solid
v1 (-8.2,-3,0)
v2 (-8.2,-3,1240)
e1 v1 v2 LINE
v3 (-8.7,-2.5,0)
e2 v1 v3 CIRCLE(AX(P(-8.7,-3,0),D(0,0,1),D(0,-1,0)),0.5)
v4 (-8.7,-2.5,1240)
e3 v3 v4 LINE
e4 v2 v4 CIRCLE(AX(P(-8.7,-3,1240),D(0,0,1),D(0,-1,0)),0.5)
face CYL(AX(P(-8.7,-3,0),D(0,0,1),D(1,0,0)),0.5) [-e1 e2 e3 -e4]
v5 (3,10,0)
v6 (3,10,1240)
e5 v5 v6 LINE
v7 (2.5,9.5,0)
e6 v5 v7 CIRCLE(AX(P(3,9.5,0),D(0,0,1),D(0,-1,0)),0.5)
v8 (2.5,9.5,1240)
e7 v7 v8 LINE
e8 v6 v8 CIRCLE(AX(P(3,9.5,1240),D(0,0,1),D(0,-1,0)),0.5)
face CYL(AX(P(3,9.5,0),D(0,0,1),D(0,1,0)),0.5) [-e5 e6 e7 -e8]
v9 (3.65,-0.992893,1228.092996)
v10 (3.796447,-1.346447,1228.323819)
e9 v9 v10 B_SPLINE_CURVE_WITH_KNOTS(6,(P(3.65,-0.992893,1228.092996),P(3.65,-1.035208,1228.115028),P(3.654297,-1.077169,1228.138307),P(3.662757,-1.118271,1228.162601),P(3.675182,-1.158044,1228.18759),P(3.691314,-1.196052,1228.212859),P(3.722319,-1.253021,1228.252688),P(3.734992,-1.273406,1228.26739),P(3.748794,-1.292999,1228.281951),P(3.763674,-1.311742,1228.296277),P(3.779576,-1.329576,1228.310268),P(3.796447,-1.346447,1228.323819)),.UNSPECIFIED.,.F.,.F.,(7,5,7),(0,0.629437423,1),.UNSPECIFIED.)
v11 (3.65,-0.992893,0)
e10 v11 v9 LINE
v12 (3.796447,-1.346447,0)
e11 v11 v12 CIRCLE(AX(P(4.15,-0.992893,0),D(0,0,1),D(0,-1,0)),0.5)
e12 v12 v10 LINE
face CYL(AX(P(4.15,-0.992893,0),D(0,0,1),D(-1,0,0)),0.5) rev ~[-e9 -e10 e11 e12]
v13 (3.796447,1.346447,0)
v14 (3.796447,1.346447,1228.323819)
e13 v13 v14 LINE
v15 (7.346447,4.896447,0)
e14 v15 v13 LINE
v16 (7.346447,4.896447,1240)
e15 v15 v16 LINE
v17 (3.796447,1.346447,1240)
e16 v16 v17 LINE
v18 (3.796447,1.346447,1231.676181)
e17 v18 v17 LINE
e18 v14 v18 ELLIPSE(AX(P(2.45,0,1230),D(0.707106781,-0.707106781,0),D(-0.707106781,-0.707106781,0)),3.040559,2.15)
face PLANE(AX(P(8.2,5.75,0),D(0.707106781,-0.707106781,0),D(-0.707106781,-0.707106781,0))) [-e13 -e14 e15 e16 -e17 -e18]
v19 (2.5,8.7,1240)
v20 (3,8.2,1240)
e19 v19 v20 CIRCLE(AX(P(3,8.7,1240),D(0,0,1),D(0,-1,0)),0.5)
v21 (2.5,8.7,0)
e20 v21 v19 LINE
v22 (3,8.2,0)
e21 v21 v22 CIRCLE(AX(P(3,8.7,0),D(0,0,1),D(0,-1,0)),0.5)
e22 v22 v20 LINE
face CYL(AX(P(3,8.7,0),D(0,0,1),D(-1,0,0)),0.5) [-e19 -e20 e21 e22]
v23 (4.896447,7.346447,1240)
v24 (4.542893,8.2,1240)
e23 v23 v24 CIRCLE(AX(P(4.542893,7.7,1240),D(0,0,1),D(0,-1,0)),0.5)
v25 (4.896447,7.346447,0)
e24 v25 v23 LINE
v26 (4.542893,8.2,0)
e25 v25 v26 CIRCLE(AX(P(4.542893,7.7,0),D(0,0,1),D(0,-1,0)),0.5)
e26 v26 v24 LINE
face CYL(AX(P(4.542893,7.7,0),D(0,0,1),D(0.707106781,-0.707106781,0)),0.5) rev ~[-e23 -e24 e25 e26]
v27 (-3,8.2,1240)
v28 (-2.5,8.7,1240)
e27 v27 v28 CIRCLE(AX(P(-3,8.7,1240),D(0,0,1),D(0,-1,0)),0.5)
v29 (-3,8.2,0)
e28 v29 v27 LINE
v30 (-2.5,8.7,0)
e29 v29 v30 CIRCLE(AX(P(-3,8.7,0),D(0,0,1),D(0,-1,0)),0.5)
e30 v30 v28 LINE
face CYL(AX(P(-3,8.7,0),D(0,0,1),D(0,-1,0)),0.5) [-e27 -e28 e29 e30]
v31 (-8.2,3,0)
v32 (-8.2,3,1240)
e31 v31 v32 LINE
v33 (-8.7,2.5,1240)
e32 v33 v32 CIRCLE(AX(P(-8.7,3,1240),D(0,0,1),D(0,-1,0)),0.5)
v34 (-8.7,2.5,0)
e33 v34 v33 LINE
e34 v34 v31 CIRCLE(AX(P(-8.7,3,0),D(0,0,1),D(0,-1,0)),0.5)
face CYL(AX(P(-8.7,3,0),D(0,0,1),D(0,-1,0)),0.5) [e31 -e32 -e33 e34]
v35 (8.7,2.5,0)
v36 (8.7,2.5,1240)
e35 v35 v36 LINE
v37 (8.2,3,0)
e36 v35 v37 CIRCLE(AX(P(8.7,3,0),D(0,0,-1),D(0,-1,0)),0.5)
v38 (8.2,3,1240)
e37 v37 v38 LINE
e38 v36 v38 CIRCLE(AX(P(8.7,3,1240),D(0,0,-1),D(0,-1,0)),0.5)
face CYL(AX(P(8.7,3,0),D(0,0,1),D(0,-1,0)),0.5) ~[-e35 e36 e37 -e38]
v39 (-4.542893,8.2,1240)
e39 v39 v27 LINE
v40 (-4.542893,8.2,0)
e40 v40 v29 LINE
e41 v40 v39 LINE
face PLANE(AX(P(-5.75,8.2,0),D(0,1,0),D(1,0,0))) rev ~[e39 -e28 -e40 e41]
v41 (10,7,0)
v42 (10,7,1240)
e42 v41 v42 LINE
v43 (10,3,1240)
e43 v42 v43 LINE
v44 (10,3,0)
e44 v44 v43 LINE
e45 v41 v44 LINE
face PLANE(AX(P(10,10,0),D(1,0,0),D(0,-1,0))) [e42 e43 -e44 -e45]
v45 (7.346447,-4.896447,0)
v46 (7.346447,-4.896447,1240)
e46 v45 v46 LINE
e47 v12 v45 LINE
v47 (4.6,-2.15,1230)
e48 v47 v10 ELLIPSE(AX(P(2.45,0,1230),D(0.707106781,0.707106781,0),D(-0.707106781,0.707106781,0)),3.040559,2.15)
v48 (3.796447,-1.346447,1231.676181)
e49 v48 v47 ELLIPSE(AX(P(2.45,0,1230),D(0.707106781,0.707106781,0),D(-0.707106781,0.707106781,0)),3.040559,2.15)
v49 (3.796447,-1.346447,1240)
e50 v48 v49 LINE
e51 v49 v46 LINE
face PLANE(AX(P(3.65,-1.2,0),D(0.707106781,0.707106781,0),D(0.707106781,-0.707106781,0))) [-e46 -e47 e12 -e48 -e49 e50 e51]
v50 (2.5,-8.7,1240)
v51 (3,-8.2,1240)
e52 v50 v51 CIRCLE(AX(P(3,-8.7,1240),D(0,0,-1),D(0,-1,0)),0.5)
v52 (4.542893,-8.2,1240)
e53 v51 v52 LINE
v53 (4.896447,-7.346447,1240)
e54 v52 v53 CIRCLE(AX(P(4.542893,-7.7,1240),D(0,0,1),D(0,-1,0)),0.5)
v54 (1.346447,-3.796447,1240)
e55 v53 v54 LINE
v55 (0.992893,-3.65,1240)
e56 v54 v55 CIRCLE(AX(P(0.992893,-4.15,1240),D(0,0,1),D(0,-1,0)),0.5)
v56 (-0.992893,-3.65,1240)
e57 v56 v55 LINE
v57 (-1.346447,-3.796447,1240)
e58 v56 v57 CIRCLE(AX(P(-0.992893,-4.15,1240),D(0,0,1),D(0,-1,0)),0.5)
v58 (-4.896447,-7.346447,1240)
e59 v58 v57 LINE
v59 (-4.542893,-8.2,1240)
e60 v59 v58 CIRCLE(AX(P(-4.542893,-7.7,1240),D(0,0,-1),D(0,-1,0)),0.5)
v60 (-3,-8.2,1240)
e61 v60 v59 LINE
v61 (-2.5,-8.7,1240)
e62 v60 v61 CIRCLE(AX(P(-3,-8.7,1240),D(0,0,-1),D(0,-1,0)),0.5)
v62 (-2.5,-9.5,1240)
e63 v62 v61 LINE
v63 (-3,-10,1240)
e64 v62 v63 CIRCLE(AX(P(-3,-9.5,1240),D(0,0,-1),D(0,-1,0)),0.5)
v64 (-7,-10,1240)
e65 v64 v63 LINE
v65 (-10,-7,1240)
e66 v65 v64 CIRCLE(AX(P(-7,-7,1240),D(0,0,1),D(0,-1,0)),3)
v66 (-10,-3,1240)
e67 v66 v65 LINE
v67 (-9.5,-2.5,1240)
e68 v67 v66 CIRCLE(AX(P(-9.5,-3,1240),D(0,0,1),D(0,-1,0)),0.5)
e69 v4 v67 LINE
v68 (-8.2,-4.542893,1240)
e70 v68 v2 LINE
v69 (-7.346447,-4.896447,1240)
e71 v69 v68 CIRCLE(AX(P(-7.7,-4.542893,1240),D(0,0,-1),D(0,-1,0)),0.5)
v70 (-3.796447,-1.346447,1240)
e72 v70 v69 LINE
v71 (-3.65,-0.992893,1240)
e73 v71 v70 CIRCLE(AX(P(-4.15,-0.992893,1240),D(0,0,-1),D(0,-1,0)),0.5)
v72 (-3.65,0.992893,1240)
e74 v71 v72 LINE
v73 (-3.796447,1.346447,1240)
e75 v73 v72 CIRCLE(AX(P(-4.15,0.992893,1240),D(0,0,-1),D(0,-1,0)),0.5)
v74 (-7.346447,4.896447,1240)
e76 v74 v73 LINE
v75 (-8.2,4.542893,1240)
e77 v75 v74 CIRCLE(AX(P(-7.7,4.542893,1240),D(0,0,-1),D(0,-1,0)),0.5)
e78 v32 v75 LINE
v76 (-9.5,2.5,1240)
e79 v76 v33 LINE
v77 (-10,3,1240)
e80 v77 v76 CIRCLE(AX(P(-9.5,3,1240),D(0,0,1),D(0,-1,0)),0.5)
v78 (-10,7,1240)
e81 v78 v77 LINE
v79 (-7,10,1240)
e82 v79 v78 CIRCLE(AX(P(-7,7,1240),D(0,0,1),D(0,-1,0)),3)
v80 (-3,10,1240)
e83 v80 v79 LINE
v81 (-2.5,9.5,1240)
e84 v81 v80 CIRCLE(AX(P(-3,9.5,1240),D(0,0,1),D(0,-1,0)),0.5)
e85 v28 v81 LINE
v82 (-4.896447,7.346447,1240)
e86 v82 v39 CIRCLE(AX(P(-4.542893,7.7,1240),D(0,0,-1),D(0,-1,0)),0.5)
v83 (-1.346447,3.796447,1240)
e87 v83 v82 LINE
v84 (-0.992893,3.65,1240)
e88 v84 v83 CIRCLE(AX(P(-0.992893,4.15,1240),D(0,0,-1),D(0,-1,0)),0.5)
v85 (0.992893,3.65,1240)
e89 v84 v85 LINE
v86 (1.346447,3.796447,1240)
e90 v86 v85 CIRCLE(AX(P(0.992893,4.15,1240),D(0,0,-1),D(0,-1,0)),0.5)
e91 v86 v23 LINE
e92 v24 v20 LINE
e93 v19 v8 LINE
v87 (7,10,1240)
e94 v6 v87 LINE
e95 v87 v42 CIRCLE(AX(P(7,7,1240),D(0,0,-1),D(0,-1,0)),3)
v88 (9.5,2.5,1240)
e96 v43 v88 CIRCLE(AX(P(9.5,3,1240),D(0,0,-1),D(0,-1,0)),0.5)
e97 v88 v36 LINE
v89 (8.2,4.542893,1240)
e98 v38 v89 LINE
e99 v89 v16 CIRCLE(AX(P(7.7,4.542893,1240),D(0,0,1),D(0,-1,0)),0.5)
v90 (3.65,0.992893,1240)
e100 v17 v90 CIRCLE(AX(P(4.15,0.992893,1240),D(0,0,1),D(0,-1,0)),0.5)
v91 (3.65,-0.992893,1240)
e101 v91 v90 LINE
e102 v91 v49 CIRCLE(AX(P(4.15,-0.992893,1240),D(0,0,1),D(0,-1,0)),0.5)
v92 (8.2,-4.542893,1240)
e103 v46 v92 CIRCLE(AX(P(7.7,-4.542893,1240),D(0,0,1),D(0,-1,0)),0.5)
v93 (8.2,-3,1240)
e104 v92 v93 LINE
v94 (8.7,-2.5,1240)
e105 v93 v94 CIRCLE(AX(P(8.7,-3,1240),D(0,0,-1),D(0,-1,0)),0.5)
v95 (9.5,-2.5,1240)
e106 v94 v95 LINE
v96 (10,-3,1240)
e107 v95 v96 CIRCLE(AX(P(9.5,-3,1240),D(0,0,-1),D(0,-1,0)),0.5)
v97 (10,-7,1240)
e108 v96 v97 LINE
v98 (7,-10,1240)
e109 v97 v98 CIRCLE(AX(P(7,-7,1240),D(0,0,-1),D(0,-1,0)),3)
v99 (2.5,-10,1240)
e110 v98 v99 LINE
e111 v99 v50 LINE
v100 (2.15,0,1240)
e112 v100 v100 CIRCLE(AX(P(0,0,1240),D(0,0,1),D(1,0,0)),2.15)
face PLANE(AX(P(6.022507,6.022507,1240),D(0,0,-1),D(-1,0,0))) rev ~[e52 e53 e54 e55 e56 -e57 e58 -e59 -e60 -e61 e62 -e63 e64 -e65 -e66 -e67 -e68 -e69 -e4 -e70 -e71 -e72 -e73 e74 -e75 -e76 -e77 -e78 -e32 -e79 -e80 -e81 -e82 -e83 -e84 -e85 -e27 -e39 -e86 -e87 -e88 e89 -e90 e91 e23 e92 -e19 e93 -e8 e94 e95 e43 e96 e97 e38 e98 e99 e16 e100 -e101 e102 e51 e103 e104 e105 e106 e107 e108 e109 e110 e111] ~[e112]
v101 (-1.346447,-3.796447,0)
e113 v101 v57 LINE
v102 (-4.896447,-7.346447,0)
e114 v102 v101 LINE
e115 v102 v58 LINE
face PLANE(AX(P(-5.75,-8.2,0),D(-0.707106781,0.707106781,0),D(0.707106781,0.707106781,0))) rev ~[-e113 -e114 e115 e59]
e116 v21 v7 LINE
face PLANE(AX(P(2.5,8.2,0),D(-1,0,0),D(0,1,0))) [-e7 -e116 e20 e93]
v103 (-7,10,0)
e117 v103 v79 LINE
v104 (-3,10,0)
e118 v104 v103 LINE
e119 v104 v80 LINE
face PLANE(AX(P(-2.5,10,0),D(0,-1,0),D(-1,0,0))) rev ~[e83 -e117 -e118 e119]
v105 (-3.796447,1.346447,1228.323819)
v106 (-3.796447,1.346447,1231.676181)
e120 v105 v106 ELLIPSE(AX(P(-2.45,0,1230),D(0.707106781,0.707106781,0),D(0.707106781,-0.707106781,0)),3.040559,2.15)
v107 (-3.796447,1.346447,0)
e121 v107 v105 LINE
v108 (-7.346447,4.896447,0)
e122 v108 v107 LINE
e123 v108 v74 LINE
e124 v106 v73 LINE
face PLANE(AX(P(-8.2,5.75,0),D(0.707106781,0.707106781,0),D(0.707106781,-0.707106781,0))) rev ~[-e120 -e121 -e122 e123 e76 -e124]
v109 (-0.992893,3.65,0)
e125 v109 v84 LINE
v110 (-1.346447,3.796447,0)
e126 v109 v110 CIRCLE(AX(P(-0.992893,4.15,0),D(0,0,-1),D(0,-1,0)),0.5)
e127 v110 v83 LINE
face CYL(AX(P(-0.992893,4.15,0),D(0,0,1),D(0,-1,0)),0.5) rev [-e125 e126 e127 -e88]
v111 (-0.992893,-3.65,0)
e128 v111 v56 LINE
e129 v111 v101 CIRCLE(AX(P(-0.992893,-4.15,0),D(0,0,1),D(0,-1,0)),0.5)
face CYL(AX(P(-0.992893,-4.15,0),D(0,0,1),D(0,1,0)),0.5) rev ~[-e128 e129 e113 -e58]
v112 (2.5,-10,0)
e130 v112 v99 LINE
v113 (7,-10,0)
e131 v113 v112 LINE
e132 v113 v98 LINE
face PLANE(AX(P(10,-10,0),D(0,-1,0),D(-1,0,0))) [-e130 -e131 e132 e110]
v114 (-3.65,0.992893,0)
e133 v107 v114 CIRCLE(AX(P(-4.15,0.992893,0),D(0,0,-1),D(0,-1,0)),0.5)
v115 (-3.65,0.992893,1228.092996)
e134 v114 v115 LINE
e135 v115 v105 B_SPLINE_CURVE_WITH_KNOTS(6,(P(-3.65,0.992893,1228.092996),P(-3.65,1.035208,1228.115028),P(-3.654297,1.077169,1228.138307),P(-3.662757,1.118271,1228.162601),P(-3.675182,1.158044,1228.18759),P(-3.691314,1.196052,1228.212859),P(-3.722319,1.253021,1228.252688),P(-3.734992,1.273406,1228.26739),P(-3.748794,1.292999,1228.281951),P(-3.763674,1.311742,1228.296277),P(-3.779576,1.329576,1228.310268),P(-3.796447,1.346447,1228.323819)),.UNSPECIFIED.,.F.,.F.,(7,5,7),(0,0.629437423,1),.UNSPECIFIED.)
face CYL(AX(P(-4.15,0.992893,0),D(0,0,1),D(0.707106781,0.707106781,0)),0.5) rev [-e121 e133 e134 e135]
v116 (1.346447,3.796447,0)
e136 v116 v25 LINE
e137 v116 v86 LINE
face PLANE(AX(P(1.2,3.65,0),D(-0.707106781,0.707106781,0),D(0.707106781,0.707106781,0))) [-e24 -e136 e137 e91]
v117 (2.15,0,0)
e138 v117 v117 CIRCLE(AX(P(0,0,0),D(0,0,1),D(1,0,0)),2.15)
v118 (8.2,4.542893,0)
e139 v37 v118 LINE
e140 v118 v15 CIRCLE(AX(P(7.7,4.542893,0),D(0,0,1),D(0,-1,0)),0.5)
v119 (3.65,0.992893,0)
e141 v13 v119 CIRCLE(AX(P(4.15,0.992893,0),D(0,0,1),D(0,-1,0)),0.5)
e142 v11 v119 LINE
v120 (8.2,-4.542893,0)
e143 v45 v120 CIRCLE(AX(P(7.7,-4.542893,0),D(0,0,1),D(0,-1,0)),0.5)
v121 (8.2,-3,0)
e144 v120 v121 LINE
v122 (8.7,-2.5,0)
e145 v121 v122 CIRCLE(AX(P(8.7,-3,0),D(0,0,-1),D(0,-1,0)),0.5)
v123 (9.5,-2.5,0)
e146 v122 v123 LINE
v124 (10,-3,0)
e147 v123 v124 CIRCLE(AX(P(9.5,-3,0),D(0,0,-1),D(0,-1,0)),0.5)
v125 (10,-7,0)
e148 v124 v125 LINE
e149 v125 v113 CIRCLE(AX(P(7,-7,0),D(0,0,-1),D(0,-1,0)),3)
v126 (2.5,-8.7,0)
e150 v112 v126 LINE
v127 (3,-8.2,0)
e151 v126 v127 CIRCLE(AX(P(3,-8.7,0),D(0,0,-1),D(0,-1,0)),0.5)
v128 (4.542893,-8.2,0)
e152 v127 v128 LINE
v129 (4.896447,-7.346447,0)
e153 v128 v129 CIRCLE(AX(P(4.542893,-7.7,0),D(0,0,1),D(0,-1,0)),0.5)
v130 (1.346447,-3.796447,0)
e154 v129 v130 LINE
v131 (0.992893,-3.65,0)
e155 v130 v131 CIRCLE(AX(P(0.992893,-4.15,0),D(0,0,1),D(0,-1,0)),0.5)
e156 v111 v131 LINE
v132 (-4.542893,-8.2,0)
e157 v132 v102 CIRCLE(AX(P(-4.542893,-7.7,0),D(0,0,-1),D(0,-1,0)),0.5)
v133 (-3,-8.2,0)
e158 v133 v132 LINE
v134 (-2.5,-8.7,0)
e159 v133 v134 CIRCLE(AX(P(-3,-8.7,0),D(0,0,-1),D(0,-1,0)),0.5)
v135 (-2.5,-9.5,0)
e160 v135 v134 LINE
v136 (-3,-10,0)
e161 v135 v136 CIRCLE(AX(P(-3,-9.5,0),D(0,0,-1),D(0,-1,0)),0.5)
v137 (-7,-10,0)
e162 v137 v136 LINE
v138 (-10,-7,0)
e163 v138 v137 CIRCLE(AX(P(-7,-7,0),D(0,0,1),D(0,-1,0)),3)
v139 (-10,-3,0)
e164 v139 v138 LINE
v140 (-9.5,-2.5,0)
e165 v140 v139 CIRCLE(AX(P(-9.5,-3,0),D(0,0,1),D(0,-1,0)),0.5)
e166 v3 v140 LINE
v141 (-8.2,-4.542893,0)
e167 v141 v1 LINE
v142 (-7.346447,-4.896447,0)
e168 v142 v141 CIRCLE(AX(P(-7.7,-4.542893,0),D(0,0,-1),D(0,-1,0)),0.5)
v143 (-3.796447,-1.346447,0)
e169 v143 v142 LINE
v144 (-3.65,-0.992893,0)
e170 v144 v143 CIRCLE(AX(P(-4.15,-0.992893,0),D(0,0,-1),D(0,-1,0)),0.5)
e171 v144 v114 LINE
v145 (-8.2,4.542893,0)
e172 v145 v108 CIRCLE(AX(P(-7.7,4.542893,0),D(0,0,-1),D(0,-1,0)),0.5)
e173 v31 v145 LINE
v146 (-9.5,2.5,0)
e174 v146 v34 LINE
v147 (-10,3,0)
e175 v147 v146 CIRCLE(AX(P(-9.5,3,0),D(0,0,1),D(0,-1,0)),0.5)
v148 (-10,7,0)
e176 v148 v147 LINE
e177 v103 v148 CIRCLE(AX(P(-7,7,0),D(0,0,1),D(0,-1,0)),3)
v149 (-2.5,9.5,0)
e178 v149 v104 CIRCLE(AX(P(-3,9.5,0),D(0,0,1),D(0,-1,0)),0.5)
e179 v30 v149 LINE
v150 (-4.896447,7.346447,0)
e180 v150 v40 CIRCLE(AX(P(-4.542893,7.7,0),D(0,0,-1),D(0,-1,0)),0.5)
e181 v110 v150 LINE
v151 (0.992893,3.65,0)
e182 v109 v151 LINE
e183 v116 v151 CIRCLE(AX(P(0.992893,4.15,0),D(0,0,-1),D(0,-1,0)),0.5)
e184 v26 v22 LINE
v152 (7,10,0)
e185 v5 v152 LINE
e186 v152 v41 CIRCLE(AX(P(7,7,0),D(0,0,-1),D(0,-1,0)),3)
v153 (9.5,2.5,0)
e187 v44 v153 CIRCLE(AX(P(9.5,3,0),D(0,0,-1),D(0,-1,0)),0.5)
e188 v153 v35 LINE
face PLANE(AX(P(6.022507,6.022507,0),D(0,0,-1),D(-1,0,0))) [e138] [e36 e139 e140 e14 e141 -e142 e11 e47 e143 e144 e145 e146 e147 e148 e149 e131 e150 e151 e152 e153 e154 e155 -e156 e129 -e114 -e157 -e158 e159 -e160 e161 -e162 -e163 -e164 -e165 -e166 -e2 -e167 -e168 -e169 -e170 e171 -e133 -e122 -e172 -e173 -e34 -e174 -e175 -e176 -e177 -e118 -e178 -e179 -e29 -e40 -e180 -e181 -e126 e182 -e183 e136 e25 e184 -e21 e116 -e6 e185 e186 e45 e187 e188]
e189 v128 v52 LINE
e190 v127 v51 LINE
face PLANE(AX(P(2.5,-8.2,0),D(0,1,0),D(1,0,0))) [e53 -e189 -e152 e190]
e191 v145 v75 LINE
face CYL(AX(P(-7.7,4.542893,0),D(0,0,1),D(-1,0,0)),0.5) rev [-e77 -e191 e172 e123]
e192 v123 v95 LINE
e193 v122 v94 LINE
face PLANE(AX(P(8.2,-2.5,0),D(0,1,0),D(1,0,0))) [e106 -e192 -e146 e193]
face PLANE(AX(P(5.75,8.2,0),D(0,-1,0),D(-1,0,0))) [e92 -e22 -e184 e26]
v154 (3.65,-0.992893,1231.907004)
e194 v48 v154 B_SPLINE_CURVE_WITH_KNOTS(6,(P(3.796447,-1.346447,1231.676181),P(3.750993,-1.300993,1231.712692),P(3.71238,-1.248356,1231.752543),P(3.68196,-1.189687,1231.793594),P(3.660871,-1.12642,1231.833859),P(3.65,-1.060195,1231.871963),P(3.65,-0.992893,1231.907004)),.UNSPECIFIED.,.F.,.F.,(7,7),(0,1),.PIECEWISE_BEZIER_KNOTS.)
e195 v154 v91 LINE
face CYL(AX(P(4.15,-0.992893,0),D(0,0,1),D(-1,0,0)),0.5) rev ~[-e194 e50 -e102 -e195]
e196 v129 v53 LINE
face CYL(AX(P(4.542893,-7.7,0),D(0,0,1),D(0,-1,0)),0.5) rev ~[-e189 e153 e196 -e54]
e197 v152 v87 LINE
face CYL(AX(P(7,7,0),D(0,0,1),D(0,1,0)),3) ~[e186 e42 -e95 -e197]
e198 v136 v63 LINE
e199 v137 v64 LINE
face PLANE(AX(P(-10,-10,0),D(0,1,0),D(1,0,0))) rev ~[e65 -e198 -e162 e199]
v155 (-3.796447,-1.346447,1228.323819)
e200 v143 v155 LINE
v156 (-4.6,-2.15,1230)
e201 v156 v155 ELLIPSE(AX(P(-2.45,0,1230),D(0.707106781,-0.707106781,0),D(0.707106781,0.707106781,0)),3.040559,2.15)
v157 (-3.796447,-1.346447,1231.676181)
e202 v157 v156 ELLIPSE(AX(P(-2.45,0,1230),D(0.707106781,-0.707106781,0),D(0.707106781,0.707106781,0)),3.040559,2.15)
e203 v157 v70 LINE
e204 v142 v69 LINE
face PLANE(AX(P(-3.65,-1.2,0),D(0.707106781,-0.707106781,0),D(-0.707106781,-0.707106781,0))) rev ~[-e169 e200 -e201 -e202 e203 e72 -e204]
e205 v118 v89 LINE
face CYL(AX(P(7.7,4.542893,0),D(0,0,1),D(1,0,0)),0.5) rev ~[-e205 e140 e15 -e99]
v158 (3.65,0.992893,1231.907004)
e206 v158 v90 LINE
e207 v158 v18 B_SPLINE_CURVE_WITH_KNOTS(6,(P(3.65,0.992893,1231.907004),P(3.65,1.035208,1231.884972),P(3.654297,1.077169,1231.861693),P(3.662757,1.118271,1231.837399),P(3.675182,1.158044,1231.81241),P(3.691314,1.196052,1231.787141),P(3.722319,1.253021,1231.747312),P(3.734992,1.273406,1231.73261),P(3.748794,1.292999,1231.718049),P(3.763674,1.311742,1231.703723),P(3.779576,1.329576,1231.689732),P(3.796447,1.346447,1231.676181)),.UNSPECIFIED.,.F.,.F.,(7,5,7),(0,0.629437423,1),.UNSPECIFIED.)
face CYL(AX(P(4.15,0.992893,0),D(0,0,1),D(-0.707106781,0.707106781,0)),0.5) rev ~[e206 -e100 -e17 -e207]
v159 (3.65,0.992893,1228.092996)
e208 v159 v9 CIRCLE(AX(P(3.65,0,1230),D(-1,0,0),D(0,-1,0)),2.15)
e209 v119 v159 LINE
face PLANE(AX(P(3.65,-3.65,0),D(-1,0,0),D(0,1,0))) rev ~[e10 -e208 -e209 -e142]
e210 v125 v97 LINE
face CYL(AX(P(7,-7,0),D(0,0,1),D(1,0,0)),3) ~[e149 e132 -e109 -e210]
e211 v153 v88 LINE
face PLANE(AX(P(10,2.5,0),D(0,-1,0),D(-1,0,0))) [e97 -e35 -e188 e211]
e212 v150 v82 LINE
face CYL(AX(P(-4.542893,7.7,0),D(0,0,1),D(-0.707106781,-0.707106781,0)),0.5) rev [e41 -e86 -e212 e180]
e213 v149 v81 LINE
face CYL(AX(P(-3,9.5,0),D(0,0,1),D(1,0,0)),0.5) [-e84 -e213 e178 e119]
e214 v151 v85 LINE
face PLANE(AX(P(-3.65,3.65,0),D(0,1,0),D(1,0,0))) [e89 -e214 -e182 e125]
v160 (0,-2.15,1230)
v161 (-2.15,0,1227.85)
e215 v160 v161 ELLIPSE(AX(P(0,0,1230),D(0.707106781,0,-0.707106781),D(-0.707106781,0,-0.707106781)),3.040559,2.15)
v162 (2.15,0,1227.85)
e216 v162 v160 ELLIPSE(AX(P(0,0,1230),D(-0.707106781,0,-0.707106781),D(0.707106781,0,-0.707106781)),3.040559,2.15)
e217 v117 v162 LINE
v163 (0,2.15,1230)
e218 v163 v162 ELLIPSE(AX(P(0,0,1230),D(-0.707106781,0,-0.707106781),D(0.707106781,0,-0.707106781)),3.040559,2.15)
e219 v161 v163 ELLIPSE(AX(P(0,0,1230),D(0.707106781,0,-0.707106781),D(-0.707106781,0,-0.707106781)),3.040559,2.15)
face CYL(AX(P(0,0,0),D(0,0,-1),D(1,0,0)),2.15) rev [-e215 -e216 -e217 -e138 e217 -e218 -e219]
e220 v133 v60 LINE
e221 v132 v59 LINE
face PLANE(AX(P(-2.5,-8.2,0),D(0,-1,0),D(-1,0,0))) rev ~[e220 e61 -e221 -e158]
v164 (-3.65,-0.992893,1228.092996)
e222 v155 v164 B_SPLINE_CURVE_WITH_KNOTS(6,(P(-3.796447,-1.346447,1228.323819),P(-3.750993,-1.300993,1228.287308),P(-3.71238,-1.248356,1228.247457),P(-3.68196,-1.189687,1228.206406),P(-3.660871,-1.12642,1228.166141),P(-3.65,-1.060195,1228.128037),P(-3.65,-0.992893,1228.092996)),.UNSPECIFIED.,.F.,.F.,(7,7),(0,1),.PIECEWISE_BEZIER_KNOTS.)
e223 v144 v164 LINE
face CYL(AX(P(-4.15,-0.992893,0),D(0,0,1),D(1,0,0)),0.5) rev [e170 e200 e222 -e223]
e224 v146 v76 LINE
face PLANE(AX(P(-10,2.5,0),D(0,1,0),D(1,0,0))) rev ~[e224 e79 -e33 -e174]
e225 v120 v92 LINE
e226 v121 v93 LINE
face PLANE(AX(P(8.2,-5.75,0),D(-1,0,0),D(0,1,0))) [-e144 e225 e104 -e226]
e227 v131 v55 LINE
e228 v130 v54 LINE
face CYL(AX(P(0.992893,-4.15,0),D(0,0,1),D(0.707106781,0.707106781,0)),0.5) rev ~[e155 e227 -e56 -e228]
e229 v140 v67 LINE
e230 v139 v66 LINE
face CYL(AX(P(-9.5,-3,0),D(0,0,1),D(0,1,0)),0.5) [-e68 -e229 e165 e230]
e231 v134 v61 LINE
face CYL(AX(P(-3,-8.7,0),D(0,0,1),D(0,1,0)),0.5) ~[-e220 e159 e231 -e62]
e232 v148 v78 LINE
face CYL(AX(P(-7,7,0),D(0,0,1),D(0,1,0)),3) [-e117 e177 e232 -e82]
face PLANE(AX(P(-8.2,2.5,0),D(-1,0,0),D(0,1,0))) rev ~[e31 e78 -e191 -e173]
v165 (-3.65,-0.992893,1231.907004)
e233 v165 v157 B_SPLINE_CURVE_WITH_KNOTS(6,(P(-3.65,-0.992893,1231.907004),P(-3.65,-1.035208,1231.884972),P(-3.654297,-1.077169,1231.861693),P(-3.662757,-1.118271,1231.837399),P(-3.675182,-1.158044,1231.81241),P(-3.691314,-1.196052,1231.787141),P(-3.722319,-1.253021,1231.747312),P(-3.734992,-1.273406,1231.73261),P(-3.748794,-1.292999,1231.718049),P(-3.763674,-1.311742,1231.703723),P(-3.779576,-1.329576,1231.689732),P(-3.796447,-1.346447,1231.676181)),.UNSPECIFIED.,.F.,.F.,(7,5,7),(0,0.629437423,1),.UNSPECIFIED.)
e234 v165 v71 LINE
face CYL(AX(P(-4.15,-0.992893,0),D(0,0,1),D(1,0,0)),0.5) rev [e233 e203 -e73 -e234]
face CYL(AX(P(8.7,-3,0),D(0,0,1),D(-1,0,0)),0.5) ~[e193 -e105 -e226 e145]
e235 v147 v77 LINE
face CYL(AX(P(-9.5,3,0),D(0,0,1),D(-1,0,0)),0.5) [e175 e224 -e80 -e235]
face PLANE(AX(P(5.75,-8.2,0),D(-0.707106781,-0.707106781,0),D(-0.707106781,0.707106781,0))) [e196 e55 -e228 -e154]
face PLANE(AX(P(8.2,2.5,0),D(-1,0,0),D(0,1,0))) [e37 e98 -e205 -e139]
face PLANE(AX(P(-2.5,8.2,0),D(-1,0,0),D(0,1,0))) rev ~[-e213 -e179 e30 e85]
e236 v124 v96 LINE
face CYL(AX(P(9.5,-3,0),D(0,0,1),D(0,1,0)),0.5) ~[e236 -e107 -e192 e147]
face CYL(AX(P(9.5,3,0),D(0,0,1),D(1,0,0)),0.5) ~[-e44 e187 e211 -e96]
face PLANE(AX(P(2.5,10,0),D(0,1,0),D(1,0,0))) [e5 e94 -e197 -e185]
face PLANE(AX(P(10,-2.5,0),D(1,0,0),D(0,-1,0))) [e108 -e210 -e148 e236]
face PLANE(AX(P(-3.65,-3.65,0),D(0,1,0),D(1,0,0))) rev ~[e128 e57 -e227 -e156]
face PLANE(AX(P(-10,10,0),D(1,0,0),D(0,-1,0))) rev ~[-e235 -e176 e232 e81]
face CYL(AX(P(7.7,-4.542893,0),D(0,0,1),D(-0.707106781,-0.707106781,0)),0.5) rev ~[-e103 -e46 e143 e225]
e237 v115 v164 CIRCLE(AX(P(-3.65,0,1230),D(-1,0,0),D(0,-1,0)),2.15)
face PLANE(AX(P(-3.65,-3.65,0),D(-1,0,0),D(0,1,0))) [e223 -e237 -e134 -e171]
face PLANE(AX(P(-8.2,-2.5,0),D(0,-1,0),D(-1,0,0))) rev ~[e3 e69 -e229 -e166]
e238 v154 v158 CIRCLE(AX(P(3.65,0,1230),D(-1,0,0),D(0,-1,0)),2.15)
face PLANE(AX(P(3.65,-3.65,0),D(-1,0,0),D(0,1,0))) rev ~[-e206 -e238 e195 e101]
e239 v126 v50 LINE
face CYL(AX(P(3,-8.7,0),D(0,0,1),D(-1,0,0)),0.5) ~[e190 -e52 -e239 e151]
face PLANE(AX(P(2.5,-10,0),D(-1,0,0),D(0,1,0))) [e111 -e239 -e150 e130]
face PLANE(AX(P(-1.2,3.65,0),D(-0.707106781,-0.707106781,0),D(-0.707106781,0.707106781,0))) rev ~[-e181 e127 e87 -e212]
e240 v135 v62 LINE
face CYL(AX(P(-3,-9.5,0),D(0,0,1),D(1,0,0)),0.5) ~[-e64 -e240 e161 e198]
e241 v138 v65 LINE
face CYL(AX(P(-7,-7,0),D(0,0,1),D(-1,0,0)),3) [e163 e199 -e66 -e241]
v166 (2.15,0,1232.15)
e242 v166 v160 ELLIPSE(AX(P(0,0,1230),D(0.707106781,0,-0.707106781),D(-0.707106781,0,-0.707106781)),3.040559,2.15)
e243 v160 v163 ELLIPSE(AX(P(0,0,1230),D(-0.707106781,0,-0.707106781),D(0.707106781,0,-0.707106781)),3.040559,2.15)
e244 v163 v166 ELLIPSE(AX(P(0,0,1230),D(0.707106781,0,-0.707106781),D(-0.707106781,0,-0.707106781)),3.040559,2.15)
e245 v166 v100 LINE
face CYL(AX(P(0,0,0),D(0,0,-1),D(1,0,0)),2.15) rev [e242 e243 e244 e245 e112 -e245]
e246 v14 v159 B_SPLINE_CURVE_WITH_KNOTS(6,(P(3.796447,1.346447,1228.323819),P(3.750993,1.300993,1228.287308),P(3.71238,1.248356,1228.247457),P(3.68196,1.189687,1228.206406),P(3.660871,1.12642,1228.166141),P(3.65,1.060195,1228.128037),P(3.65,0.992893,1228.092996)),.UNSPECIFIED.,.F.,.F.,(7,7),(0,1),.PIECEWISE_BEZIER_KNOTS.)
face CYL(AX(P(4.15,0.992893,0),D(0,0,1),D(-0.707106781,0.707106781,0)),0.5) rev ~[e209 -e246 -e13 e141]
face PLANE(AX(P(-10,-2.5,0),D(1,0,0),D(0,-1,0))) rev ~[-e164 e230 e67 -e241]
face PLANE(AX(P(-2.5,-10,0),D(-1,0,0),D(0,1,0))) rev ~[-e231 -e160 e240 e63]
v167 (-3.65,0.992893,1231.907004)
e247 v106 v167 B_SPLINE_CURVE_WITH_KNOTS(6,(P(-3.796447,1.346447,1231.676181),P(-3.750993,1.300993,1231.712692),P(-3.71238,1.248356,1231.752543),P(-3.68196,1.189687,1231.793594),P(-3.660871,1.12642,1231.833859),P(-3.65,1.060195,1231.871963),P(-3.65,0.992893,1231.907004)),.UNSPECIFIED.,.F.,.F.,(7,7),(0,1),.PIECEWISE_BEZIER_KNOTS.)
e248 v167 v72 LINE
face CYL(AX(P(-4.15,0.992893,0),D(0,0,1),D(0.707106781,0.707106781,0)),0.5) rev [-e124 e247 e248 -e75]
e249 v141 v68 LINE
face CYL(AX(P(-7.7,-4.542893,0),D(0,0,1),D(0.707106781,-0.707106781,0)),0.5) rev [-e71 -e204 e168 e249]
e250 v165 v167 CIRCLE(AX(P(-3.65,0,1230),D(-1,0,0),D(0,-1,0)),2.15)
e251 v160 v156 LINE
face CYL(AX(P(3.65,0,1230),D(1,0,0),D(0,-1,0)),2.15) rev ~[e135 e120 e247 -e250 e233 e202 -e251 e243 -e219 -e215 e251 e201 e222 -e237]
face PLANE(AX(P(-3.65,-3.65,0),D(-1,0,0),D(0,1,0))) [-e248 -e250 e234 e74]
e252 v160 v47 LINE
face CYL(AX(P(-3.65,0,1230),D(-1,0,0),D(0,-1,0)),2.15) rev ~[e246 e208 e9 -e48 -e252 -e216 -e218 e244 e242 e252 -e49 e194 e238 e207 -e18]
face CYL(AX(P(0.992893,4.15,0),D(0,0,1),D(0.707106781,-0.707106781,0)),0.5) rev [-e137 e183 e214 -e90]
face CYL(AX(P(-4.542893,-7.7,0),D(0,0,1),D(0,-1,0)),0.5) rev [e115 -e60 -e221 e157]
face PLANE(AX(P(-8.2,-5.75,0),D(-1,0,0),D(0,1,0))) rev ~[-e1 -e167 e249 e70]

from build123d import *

# Parameters (mm, degrees)
SKETCH1_W           = 7.3
SKETCH1_H           = 7.3
SKETCH1_R           = 2.15
BOSS_EXTRUDE1_DEPTH = 1240
BOSS_EXTRUDE2_DEPTH = 1240
FILLET4_R           = 3
FILLET5_R           = 0.5
FILLET6_R           = 0.5
FILLET7_R           = 0.5
SKETCH5_R           = 2.15
CUT_EXTRUDE3_DEPTH  = 1241.115447247
SKETCH6_R           = 2.15
CUT_EXTRUDE4_DEPTH  = 1241.115447347


with BuildPart() as part:
    # Sketch1 → Boss-Extrude1 (new body)
    with BuildSketch(Plane.XY):
        Rectangle(SKETCH1_W, SKETCH1_H)
        Circle(SKETCH1_R, mode=Mode.SUBTRACT)
    extrude(amount=BOSS_EXTRUDE1_DEPTH)

    # Sketch2 → Boss-Extrude2 (add)
    with BuildSketch(Plane.XY):
        Polygon((3.65, 3.65), (1.2, 3.65), (5.750000001, 8.200000001), (2.500000001, 8.200000001), (2.500000001, 10.000000001), (10.000000001, 10.000000001), (10.000000001, 2.500000001), (8.200000001, 2.500000001), (8.200000001, 5.750000001), (3.65, 1.2), align=None)
        Polygon((-3.65, 3.65), (-1.2, 3.65), (-5.750000001, 8.200000001), (-2.500000001, 8.200000001), (-2.500000001, 10.000000001), (-10.000000001, 10.000000001), (-10.000000001, 2.500000001), (-8.200000001, 2.500000001), (-8.200000001, 5.750000001), (-3.65, 1.2), align=None)
        Polygon((-3.65, -3.65), (-3.65, -1.2), (-8.200000001, -5.750000001), (-8.200000001, -2.500000001), (-10.000000001, -2.500000001), (-10.000000001, -10.000000001), (-2.500000001, -10.000000001), (-2.500000001, -8.200000001), (-5.750000001, -8.200000001), (-1.2, -3.65), align=None)
        Polygon((3.65, -3.65), (3.65, -1.2), (8.200000001, -5.750000001), (8.200000001, -2.500000001), (10.000000001, -2.500000001), (10.000000001, -10.000000001), (2.500000001, -10.000000001), (2.500000001, -8.200000001), (5.750000001, -8.200000001), (1.2, -3.65), align=None)
    extrude(amount=BOSS_EXTRUDE2_DEPTH)

    # Fillet4
    fillet4_edges = [part.edges().sort_by_distance(p)[0] for p in [
        (10.000000001, 10.000000001, 620),
        (-10.000000001, 10.000000001, 620),
        (-10.000000001, -10.000000001, 620),
        (10.000000001, -10.000000001, 620),
    ]]
    fillet(fillet4_edges, radius=FILLET4_R)

    # Fillet5
    fillet5_edges = [part.edges().sort_by_distance(p)[0] for p in [
        (8.200000001, 2.500000001, 620),
        (10.000000001, 2.500000001, 620),
        (2.500000001, 10.000000001, 620),
        (2.500000001, 8.200000001, 620),
        (-2.500000001, 8.200000001, 620),
        (-2.500000001, 10.000000001, 620),
        (-10.000000001, 2.500000001, 620),
        (-8.200000001, 2.500000001, 620),
        (-8.200000001, -2.500000001, 620),
        (-10.000000001, -2.500000001, 620),
        (-2.500000001, -10.000000001, 620),
        (-2.500000001, -8.200000001, 620),
        (2.500000001, -8.200000001, 620),
        (10.000000001, -2.500000001, 620),
        (8.200000001, -2.500000001, 620),
    ]]
    fillet(fillet5_edges, radius=FILLET5_R)

    # Fillet6
    fillet6_edges = [part.edges().sort_by_distance(p)[0] for p in [
        (3.65, 1.2, 620),
        (1.2, 3.65, 620),
        (-3.65, 1.2, 620),
        (-1.2, 3.65, 620),
        (-1.2, -3.65, 620),
        (-3.65, -1.2, 620),
        (1.2, -3.65, 620),
        (3.65, -1.2, 620),
    ]]
    fillet(fillet6_edges, radius=FILLET6_R)

    # Fillet7
    fillet7_edges = [part.edges().sort_by_distance(p)[0] for p in [
        (8.200000001, 5.750000001, 620),
        (5.750000001, 8.200000001, 620),
        (-5.750000001, 8.200000001, 620),
        (-8.200000001, 5.750000001, 620),
        (-8.200000001, -5.750000001, 620),
        (-5.750000001, -8.200000001, 620),
        (5.750000001, -8.200000001, 620),
        (8.200000001, -5.750000001, 620),
    ]]
    fillet(fillet7_edges, radius=FILLET7_R)

    # Sketch5 → Cut-Extrude3 (cut, through all)
    with BuildSketch(Plane.ZY.offset(3.65)):
        with Locations(Location((1230, 0, 0), (0, 0, 270))):
            Circle(SKETCH5_R)
    extrude(amount=-CUT_EXTRUDE3_DEPTH, mode=Mode.SUBTRACT)

    # Sketch6 → Cut-Extrude4 (cut, through all)
    with BuildSketch(Plane(origin=(3.65, 0, 0), x_dir=(0, 0, -1), z_dir=(1, 0, 0))):
        with Locations(Location((-1230, 0, 0), (0, 0, 270))):
            Circle(SKETCH6_R)
    extrude(amount=-CUT_EXTRUDE4_DEPTH, mode=Mode.SUBTRACT)


solid = part.part
